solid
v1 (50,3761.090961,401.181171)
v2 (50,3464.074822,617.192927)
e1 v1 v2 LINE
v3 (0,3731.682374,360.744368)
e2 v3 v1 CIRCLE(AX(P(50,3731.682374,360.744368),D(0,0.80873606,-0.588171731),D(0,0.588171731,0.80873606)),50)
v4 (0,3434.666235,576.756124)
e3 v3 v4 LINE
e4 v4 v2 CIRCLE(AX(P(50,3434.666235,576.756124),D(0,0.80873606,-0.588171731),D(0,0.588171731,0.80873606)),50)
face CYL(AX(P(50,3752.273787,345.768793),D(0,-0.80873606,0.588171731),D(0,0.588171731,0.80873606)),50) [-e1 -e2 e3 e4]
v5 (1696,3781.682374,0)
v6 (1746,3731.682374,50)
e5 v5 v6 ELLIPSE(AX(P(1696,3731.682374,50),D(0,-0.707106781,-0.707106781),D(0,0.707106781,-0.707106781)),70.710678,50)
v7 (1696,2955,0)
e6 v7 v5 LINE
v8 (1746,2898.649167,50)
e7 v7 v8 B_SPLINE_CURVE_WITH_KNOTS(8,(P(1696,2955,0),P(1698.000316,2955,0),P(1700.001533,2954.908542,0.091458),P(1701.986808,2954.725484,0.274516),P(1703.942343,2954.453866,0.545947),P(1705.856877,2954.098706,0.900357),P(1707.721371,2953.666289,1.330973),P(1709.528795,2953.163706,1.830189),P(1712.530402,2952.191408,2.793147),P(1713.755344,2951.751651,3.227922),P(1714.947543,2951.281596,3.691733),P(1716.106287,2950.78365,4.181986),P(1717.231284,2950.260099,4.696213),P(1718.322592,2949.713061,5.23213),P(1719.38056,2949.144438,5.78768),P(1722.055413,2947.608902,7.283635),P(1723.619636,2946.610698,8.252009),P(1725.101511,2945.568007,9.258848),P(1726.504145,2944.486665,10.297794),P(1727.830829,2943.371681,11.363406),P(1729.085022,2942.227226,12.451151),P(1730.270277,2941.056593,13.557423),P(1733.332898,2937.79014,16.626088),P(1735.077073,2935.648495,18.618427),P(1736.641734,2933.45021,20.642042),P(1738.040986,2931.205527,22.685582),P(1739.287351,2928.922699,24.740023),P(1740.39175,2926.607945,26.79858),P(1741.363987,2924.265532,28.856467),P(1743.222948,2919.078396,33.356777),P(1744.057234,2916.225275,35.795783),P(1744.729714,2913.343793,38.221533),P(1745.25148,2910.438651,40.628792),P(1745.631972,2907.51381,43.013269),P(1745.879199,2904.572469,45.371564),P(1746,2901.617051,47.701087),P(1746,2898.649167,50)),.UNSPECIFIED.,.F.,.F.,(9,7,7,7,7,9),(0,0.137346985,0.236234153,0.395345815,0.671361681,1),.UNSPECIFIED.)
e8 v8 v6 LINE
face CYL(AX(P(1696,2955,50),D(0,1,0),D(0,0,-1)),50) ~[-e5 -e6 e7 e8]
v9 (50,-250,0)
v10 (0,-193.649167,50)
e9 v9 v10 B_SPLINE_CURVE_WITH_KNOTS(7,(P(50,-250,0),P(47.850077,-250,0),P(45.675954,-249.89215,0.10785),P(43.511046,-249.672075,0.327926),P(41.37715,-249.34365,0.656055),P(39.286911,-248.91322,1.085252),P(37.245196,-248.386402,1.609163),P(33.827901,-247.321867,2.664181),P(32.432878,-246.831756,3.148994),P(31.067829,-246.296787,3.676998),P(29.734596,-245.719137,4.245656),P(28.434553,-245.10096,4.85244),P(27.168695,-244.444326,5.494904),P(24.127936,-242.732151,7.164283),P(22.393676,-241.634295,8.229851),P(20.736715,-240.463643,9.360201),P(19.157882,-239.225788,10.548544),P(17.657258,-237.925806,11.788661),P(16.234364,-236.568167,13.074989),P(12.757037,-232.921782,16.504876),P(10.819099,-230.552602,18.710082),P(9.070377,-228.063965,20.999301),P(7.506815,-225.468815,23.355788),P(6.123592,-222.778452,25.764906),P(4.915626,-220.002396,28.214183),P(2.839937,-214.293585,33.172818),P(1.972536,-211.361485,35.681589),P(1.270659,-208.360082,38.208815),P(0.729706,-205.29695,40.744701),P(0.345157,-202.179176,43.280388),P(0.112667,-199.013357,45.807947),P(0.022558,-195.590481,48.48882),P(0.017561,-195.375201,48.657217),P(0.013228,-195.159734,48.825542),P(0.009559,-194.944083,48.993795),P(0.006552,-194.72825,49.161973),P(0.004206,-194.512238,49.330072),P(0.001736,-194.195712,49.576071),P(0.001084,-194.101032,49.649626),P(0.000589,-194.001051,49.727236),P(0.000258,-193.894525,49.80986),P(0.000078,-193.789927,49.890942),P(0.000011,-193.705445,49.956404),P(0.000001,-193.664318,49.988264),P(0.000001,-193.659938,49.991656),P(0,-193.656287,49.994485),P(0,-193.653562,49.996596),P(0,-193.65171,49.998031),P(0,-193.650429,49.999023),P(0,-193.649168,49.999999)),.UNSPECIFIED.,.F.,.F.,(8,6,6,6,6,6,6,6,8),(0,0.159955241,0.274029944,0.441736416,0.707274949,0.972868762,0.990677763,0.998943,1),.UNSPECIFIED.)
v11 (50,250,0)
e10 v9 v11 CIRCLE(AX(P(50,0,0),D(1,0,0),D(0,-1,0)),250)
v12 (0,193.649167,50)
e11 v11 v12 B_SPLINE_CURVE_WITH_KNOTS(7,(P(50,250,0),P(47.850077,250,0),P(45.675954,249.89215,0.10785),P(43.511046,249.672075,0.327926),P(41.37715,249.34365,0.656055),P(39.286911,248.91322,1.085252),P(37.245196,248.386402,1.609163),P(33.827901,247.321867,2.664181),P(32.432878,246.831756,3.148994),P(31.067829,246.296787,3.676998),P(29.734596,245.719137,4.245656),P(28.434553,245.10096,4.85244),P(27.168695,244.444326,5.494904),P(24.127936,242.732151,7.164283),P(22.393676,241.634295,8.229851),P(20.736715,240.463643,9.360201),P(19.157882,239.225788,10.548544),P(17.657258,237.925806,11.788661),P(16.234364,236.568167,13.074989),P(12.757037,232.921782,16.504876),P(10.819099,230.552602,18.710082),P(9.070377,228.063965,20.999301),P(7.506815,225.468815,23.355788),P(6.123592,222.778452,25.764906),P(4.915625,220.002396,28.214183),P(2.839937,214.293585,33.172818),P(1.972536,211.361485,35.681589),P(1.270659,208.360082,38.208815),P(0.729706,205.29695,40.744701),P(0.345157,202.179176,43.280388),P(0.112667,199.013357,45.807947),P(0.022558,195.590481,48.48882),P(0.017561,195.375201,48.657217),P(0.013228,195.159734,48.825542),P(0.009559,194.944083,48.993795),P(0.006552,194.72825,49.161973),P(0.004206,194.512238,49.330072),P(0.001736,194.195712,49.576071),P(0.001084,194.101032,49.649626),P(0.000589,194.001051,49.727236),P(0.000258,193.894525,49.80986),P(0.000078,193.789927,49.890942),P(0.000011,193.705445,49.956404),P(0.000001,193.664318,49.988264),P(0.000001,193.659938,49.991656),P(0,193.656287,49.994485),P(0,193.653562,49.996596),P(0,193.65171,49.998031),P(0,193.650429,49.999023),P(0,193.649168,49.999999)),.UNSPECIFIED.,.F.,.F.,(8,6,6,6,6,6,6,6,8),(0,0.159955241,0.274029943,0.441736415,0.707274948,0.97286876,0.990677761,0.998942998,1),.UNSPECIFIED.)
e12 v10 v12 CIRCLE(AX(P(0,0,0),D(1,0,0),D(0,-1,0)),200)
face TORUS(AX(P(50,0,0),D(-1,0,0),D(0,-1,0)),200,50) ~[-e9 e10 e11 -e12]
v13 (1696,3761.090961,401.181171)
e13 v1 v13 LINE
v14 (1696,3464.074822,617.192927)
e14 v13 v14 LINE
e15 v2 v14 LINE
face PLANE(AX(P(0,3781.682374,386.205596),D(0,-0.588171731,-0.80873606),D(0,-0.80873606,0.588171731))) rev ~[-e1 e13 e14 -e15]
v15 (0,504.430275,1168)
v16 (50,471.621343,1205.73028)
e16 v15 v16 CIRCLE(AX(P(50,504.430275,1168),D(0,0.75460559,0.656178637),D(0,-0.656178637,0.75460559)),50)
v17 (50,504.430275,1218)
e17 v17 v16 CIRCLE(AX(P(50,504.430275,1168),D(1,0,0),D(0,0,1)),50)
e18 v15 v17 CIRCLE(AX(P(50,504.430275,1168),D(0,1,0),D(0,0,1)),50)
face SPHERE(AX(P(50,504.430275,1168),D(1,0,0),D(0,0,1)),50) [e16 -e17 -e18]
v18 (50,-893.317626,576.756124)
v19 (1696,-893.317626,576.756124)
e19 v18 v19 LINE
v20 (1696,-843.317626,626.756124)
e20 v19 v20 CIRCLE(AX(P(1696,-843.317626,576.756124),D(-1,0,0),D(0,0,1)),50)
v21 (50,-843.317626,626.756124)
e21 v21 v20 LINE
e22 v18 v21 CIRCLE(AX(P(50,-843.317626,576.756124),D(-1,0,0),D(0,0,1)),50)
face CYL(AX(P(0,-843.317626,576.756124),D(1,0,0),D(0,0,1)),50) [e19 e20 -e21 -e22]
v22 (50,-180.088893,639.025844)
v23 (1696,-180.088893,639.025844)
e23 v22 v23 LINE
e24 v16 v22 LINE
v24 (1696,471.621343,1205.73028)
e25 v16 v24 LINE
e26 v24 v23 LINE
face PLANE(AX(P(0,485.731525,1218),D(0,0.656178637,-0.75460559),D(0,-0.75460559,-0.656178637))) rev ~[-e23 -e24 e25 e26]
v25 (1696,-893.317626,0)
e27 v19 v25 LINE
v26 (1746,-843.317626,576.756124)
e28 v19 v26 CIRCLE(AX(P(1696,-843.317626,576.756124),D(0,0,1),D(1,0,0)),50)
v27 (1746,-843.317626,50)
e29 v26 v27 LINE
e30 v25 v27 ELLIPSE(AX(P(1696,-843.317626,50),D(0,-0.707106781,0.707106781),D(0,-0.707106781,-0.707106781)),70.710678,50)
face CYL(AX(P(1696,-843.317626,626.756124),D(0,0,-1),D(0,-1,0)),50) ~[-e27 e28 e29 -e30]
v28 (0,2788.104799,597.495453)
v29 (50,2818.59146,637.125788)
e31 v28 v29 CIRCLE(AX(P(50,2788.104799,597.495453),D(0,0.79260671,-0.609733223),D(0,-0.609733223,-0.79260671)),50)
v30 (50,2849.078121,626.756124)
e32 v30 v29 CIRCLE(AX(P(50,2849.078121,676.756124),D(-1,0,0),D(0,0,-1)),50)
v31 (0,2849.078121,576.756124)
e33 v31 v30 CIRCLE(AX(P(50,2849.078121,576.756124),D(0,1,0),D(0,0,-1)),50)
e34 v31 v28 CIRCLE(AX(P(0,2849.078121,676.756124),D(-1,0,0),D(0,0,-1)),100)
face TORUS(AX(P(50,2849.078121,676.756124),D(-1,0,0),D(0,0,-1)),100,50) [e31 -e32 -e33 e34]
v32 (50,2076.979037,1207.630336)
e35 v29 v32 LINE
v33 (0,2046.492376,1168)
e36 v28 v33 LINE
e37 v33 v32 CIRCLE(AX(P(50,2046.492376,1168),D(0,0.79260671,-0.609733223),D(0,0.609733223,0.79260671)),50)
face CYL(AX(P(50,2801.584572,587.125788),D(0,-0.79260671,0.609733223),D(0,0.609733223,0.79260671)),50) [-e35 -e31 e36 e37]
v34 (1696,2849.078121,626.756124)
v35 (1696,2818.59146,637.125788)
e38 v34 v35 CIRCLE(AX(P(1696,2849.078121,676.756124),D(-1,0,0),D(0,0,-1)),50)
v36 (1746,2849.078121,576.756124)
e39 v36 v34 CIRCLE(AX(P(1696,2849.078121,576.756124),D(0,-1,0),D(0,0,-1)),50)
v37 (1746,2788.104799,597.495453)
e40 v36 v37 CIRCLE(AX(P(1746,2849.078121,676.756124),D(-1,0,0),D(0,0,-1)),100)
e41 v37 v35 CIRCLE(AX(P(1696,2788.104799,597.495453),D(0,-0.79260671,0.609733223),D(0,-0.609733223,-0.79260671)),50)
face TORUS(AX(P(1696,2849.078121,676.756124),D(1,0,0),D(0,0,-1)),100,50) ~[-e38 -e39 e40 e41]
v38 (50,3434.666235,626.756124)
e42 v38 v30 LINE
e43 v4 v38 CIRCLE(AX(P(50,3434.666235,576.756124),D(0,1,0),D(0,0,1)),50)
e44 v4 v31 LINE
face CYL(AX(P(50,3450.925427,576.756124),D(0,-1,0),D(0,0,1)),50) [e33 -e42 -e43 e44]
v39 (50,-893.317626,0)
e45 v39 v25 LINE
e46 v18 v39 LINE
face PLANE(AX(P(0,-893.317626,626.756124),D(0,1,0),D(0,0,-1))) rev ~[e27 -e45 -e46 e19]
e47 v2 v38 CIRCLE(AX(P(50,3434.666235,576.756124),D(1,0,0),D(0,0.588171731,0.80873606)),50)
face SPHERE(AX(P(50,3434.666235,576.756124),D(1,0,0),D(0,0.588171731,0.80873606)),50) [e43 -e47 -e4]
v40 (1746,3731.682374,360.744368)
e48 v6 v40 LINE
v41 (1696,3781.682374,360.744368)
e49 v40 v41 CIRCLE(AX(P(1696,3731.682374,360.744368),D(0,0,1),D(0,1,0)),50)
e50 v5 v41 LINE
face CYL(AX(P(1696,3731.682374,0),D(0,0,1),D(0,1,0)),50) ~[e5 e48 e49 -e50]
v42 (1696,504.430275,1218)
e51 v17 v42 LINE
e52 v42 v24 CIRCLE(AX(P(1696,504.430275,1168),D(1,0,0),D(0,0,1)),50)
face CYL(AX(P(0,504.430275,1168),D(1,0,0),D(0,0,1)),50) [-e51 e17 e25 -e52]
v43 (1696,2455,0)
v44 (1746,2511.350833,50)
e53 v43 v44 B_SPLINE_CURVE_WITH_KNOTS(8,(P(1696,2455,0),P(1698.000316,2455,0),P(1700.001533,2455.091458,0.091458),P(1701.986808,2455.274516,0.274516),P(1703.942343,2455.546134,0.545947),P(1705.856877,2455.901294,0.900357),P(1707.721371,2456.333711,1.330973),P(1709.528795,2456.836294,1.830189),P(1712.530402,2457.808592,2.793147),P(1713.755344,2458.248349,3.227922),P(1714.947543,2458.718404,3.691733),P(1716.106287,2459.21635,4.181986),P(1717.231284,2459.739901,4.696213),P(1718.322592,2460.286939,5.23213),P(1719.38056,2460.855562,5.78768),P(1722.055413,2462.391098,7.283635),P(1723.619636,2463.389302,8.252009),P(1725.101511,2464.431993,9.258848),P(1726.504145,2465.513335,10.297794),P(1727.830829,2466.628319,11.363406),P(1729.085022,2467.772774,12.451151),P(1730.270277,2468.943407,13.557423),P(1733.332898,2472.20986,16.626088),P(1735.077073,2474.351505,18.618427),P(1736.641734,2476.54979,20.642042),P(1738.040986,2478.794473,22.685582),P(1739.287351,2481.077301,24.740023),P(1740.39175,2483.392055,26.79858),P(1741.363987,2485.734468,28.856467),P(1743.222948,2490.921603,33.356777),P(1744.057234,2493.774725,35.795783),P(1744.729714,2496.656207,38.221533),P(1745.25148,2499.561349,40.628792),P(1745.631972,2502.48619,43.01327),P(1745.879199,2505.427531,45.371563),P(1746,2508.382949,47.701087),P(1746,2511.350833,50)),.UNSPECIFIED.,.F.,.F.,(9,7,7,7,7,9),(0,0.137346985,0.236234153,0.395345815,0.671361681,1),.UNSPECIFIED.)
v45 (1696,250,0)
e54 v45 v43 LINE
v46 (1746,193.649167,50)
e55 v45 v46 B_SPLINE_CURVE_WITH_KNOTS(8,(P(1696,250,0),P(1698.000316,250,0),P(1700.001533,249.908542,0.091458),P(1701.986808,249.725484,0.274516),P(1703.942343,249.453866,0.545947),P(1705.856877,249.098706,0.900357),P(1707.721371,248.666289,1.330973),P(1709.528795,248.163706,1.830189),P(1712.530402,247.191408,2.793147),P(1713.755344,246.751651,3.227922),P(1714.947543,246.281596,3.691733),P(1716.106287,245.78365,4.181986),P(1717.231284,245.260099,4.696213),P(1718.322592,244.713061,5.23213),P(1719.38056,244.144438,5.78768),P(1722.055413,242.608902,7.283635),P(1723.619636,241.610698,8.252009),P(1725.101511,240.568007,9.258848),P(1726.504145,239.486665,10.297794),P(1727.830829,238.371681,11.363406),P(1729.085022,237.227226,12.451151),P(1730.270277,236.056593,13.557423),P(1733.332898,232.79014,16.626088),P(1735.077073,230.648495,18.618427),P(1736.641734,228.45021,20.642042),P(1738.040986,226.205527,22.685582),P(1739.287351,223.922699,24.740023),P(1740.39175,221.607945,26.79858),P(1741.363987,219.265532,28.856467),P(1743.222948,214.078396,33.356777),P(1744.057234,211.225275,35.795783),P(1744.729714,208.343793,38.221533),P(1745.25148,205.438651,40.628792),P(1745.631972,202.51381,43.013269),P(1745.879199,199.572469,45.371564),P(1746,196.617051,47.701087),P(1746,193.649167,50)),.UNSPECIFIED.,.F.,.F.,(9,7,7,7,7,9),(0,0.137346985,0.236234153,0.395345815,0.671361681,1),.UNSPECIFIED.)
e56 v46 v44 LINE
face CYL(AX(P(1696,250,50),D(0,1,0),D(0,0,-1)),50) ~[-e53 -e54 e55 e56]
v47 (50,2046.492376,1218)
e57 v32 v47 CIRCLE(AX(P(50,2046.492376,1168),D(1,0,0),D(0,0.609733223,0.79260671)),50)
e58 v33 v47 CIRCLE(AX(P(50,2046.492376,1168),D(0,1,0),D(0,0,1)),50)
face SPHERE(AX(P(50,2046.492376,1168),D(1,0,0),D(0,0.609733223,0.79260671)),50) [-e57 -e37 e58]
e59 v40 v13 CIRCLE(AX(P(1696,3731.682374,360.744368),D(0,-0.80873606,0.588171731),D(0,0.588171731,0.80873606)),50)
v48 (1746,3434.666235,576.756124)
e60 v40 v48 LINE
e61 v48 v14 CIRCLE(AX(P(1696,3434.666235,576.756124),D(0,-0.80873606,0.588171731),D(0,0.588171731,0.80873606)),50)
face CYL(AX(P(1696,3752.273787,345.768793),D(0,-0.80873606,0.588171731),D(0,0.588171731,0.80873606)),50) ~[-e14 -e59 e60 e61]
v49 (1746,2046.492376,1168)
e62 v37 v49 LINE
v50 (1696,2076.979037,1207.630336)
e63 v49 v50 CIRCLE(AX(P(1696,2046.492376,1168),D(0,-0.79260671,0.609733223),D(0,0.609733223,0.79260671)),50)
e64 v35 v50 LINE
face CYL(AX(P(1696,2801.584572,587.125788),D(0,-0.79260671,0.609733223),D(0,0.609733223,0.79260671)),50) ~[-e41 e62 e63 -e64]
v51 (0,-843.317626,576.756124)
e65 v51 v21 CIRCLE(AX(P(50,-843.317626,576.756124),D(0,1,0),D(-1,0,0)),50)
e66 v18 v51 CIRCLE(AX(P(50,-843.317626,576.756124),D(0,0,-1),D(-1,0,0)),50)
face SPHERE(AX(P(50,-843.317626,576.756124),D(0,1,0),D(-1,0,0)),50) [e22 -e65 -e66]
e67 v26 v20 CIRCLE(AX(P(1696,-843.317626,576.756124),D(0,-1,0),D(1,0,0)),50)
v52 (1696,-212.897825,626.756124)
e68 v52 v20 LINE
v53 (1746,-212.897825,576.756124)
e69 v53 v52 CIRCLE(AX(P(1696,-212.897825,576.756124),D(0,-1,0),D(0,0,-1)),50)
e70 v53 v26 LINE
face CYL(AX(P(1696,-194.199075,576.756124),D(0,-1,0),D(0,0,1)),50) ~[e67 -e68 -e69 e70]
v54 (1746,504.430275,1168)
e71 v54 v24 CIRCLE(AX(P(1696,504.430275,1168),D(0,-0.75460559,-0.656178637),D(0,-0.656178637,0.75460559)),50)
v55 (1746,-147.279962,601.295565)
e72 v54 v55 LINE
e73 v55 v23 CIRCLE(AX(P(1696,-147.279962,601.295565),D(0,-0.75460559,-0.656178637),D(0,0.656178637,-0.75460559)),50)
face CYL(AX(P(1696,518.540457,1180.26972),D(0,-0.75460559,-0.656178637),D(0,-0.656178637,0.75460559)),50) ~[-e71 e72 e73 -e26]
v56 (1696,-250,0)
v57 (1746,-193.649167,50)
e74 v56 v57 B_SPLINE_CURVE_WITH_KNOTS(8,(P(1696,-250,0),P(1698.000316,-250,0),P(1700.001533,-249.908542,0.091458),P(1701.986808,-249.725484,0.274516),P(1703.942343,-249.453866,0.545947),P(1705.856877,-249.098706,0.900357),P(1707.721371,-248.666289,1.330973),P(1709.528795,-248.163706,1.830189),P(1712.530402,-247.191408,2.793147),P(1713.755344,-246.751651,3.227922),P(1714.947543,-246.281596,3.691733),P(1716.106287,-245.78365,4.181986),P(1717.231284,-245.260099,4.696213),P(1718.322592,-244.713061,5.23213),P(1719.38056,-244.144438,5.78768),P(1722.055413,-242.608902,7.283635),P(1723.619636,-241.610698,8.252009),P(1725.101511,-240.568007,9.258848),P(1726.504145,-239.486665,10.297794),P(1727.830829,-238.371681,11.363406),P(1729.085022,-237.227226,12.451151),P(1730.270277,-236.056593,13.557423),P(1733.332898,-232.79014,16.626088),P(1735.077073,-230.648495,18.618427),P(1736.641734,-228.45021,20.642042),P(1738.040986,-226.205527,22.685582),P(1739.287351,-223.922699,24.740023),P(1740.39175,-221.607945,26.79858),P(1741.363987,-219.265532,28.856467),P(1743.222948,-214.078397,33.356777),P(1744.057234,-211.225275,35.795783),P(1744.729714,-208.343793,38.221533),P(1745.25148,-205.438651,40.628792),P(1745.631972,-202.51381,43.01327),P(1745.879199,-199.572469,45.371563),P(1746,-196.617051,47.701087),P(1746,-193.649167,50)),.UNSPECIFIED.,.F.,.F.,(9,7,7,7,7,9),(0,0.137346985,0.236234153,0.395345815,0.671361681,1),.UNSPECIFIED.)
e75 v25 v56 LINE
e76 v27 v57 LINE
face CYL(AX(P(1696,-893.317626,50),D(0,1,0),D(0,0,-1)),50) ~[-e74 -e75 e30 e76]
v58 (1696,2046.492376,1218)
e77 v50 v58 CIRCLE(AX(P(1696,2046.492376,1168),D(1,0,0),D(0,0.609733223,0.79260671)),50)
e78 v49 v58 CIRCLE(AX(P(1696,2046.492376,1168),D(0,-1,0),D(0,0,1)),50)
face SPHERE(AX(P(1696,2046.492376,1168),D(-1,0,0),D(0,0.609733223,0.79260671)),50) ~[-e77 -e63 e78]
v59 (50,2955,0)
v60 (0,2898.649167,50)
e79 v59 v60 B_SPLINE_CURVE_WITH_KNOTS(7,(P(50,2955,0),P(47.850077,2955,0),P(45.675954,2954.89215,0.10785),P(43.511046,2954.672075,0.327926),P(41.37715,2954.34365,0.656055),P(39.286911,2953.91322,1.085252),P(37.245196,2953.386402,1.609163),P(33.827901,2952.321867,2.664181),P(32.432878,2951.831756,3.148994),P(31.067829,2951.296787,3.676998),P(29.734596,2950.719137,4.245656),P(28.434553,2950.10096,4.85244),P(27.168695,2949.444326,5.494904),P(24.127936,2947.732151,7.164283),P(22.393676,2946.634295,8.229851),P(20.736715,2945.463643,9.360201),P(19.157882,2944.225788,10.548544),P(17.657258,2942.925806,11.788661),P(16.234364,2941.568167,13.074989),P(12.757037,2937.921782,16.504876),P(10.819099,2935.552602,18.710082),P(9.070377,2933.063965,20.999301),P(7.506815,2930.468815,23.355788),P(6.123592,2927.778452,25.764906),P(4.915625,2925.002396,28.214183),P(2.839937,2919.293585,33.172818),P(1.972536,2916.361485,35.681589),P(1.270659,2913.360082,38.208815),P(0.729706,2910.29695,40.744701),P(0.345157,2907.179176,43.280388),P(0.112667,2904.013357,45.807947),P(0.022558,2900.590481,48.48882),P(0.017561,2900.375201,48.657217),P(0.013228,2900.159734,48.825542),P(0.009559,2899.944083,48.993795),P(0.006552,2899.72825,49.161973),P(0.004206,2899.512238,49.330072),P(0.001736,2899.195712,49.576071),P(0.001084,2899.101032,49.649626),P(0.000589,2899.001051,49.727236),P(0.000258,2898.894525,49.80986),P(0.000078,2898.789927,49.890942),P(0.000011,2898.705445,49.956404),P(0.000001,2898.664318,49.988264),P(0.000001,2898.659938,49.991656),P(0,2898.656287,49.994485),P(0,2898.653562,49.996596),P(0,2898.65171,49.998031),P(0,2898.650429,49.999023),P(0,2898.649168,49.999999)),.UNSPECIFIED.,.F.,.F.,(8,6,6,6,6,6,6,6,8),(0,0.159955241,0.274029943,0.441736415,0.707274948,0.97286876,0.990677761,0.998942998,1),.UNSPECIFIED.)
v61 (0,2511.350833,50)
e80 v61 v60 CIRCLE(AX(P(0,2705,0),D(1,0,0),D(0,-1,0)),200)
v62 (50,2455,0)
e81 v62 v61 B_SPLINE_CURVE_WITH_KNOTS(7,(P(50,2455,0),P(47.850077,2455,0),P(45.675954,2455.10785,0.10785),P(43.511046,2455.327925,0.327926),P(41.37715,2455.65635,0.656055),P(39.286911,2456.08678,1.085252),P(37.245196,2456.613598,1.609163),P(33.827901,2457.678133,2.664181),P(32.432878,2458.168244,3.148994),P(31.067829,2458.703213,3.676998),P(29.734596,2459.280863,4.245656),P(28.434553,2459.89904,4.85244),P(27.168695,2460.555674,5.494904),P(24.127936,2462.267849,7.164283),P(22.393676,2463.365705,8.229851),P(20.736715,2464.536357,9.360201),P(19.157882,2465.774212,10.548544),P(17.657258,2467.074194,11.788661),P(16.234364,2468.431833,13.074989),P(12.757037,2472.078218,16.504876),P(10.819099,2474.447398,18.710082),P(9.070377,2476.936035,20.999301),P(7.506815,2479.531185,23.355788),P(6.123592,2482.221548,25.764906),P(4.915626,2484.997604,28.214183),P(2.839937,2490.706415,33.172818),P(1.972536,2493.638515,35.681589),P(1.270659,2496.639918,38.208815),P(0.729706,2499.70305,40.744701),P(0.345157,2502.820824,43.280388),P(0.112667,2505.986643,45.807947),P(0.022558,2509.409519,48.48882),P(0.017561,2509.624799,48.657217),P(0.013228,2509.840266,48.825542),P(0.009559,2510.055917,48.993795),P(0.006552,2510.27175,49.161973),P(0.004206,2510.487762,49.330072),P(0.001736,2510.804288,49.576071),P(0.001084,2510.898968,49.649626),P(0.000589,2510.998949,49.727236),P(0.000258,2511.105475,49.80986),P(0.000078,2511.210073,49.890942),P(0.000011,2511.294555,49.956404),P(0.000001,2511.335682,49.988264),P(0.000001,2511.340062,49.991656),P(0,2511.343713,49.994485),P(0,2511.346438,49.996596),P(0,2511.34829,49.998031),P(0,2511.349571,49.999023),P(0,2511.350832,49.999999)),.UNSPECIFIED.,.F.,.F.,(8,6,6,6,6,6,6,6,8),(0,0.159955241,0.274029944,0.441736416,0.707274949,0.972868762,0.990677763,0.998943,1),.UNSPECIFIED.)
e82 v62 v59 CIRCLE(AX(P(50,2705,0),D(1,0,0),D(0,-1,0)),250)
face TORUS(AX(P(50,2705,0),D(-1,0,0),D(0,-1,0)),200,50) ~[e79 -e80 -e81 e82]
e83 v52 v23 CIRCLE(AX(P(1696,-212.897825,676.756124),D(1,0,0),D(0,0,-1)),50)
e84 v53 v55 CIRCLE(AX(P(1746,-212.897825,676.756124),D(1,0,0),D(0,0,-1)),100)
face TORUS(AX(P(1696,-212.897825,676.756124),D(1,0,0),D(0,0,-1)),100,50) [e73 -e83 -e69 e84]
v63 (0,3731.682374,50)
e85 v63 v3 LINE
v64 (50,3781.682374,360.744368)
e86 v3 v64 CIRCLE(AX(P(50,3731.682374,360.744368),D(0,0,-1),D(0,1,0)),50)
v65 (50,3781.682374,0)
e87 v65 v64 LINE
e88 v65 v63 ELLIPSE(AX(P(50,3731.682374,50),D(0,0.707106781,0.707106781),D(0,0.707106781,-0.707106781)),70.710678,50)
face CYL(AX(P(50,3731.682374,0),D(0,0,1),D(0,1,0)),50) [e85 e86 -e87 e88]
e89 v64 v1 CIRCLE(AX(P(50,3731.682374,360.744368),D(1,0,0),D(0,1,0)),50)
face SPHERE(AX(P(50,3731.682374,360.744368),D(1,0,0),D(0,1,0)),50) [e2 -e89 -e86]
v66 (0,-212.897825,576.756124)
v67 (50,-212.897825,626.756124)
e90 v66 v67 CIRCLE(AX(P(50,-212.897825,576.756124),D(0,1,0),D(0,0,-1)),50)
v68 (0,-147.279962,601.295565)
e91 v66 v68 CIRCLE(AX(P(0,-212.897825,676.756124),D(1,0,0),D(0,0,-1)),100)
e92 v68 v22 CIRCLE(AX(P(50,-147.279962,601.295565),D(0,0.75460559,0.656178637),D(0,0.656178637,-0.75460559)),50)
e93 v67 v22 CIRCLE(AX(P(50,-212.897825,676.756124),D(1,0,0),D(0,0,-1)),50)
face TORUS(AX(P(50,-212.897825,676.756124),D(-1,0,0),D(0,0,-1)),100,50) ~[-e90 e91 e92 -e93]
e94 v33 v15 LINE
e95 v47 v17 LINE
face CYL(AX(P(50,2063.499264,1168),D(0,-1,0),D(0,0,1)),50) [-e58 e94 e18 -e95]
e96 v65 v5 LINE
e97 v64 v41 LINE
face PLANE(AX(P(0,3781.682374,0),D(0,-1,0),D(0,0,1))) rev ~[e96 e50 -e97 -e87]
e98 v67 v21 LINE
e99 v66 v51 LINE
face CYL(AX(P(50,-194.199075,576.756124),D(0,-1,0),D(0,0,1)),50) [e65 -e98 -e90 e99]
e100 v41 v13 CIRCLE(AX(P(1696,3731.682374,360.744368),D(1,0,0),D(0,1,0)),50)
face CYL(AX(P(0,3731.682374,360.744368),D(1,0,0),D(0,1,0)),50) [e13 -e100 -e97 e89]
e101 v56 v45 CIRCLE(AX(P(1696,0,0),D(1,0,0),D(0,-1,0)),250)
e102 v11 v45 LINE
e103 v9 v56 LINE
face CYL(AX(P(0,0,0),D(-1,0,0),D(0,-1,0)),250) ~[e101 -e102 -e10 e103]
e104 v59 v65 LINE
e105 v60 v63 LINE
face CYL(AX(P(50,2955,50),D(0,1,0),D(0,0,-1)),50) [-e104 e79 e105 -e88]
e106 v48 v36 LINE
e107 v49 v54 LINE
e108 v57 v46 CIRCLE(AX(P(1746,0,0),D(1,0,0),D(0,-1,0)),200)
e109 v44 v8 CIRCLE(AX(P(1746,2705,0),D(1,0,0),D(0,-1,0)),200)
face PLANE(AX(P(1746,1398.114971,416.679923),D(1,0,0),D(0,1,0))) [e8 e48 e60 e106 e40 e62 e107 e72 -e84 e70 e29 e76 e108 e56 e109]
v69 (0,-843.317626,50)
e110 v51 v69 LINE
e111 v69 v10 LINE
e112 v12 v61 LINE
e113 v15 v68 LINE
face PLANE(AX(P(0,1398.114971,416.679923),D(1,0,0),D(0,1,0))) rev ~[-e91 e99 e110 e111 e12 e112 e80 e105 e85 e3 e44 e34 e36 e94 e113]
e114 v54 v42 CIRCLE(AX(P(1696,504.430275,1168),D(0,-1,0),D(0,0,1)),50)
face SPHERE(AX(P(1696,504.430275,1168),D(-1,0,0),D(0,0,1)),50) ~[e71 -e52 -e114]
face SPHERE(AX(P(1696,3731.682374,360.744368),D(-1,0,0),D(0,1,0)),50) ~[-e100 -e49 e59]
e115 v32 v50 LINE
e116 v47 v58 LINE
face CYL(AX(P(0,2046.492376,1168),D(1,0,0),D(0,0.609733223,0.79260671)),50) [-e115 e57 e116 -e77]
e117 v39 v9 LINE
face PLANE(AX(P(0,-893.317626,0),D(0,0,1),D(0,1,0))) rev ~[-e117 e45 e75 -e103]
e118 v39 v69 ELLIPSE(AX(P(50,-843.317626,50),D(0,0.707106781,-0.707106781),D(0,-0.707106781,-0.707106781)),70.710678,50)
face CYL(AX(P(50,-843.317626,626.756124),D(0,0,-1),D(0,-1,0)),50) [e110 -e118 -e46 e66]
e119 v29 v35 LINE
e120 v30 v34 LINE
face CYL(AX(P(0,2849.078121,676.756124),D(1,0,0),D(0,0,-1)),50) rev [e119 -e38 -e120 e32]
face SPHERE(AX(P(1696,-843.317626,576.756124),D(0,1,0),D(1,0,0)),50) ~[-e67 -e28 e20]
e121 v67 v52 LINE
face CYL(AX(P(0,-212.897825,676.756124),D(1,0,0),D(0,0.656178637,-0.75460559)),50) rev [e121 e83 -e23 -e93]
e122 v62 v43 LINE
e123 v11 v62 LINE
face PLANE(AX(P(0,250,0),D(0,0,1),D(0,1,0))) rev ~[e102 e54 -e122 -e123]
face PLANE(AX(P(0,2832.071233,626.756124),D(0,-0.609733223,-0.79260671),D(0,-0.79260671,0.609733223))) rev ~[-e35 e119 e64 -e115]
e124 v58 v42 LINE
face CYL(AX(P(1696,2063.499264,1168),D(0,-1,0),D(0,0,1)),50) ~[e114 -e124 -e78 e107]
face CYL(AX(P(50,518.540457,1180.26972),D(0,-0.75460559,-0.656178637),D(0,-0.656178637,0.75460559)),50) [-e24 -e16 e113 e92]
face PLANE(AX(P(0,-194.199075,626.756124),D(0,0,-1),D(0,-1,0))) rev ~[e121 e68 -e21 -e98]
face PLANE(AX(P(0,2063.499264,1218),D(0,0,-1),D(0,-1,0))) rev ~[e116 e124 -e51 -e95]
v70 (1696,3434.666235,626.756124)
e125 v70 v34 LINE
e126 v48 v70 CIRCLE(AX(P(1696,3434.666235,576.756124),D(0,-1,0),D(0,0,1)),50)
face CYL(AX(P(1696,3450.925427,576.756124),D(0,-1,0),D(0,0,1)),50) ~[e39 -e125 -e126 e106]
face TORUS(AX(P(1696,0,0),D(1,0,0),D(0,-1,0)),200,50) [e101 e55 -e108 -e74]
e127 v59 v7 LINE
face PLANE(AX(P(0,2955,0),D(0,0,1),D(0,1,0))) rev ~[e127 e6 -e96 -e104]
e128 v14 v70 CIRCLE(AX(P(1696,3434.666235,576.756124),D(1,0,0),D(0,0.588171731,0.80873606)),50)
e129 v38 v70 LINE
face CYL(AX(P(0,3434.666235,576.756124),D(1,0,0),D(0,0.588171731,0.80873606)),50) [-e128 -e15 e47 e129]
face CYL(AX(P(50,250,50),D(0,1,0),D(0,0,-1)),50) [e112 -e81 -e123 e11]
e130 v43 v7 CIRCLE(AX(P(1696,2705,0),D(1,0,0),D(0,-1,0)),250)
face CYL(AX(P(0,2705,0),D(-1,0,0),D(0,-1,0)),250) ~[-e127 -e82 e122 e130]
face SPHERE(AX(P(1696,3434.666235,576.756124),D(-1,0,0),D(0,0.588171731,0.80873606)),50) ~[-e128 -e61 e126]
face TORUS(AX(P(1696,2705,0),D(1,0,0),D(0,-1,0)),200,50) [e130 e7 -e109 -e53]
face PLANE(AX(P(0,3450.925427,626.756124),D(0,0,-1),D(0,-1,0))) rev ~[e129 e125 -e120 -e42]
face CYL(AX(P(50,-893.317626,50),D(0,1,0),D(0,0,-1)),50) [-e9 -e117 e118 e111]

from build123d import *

# Parameters (mm, degrees)
F1_DEPTH = 1746
F2_R     = 50


with BuildPart() as f1:
    # F0 (on Right) → F1 (new body)
    with BuildSketch(Plane.YZ):
        with BuildLine():
            Line((-893.317626, 0), (-250, 0))
            ThreePointArc((-250, 0), (0, -250), (250, 0))
            Line((250, 0), (2455, 0))
            ThreePointArc((2455, 0), (2705, -250), (2955, 0))
            Line((2955, 0), (3781.682374, 0))
            Line((3781.682374, 0), (3781.682374, 386.205596))
            Line((3781.682374, 386.205596), (3450.925427, 626.756124))
            Line((3450.925427, 626.756124), (2832.071233, 626.756124))
            Line((2832.071233, 626.756124), (2063.499264, 1218))
            Line((2063.499264, 1218), (485.731525, 1218))
            Line((485.731525, 1218), (-194.199075, 626.756124))
            Line((-194.199075, 626.756124), (-893.317626, 626.756124))
            Line((-893.317626, 626.756124), (-893.317626, 0))
        make_face()
    extrude(amount=F1_DEPTH)

    # F2
    f2_edges = [f1.edges().sort_by_distance(p)[0] for p in [
        (1746, -543.75835, 626.756124),
        (1746, -893.317626, 313.378062),
        (1746, -571.658813, 0),
        (1746, 0, -250),
        (1746, 1352.5, 0),
        (1746, 2705, -250),
        (1746, 3368.341187, 0),
        (1746, 3781.682374, 193.102798),
        (1746, 3616.3039, 506.48086),
        (1746, 3141.49833, 626.756124),
        (1746, 2447.785249, 922.378062),
        (1746, 1274.615395, 1218),
        (1746, 145.766225, 922.378062),
        (0, -543.75835, 626.756124),
        (0, -893.317626, 313.378062),
        (0, -571.658813, 0),
        (0, 0, -250),
        (0, 1352.5, 0),
        (0, 2705, -250),
        (0, 3368.341187, 0),
        (0, 3781.682374, 193.102798),
        (0, 3616.3039, 506.48086),
        (0, 3141.49833, 626.756124),
        (0, 2447.785249, 922.378062),
        (0, 1274.615395, 1218),
        (0, 145.766225, 922.378062),
        (873, 485.731525, 1218),
        (873, -194.199075, 626.756124),
        (873, 2832.071233, 626.756124),
        (873, 2063.499264, 1218),
        (873, 3781.682374, 386.205596),
        (873, 3450.925427, 626.756124),
        (873, -893.317626, 626.756124),
    ]]
    fillet(f2_edges, radius=F2_R)


solid = f1.part
